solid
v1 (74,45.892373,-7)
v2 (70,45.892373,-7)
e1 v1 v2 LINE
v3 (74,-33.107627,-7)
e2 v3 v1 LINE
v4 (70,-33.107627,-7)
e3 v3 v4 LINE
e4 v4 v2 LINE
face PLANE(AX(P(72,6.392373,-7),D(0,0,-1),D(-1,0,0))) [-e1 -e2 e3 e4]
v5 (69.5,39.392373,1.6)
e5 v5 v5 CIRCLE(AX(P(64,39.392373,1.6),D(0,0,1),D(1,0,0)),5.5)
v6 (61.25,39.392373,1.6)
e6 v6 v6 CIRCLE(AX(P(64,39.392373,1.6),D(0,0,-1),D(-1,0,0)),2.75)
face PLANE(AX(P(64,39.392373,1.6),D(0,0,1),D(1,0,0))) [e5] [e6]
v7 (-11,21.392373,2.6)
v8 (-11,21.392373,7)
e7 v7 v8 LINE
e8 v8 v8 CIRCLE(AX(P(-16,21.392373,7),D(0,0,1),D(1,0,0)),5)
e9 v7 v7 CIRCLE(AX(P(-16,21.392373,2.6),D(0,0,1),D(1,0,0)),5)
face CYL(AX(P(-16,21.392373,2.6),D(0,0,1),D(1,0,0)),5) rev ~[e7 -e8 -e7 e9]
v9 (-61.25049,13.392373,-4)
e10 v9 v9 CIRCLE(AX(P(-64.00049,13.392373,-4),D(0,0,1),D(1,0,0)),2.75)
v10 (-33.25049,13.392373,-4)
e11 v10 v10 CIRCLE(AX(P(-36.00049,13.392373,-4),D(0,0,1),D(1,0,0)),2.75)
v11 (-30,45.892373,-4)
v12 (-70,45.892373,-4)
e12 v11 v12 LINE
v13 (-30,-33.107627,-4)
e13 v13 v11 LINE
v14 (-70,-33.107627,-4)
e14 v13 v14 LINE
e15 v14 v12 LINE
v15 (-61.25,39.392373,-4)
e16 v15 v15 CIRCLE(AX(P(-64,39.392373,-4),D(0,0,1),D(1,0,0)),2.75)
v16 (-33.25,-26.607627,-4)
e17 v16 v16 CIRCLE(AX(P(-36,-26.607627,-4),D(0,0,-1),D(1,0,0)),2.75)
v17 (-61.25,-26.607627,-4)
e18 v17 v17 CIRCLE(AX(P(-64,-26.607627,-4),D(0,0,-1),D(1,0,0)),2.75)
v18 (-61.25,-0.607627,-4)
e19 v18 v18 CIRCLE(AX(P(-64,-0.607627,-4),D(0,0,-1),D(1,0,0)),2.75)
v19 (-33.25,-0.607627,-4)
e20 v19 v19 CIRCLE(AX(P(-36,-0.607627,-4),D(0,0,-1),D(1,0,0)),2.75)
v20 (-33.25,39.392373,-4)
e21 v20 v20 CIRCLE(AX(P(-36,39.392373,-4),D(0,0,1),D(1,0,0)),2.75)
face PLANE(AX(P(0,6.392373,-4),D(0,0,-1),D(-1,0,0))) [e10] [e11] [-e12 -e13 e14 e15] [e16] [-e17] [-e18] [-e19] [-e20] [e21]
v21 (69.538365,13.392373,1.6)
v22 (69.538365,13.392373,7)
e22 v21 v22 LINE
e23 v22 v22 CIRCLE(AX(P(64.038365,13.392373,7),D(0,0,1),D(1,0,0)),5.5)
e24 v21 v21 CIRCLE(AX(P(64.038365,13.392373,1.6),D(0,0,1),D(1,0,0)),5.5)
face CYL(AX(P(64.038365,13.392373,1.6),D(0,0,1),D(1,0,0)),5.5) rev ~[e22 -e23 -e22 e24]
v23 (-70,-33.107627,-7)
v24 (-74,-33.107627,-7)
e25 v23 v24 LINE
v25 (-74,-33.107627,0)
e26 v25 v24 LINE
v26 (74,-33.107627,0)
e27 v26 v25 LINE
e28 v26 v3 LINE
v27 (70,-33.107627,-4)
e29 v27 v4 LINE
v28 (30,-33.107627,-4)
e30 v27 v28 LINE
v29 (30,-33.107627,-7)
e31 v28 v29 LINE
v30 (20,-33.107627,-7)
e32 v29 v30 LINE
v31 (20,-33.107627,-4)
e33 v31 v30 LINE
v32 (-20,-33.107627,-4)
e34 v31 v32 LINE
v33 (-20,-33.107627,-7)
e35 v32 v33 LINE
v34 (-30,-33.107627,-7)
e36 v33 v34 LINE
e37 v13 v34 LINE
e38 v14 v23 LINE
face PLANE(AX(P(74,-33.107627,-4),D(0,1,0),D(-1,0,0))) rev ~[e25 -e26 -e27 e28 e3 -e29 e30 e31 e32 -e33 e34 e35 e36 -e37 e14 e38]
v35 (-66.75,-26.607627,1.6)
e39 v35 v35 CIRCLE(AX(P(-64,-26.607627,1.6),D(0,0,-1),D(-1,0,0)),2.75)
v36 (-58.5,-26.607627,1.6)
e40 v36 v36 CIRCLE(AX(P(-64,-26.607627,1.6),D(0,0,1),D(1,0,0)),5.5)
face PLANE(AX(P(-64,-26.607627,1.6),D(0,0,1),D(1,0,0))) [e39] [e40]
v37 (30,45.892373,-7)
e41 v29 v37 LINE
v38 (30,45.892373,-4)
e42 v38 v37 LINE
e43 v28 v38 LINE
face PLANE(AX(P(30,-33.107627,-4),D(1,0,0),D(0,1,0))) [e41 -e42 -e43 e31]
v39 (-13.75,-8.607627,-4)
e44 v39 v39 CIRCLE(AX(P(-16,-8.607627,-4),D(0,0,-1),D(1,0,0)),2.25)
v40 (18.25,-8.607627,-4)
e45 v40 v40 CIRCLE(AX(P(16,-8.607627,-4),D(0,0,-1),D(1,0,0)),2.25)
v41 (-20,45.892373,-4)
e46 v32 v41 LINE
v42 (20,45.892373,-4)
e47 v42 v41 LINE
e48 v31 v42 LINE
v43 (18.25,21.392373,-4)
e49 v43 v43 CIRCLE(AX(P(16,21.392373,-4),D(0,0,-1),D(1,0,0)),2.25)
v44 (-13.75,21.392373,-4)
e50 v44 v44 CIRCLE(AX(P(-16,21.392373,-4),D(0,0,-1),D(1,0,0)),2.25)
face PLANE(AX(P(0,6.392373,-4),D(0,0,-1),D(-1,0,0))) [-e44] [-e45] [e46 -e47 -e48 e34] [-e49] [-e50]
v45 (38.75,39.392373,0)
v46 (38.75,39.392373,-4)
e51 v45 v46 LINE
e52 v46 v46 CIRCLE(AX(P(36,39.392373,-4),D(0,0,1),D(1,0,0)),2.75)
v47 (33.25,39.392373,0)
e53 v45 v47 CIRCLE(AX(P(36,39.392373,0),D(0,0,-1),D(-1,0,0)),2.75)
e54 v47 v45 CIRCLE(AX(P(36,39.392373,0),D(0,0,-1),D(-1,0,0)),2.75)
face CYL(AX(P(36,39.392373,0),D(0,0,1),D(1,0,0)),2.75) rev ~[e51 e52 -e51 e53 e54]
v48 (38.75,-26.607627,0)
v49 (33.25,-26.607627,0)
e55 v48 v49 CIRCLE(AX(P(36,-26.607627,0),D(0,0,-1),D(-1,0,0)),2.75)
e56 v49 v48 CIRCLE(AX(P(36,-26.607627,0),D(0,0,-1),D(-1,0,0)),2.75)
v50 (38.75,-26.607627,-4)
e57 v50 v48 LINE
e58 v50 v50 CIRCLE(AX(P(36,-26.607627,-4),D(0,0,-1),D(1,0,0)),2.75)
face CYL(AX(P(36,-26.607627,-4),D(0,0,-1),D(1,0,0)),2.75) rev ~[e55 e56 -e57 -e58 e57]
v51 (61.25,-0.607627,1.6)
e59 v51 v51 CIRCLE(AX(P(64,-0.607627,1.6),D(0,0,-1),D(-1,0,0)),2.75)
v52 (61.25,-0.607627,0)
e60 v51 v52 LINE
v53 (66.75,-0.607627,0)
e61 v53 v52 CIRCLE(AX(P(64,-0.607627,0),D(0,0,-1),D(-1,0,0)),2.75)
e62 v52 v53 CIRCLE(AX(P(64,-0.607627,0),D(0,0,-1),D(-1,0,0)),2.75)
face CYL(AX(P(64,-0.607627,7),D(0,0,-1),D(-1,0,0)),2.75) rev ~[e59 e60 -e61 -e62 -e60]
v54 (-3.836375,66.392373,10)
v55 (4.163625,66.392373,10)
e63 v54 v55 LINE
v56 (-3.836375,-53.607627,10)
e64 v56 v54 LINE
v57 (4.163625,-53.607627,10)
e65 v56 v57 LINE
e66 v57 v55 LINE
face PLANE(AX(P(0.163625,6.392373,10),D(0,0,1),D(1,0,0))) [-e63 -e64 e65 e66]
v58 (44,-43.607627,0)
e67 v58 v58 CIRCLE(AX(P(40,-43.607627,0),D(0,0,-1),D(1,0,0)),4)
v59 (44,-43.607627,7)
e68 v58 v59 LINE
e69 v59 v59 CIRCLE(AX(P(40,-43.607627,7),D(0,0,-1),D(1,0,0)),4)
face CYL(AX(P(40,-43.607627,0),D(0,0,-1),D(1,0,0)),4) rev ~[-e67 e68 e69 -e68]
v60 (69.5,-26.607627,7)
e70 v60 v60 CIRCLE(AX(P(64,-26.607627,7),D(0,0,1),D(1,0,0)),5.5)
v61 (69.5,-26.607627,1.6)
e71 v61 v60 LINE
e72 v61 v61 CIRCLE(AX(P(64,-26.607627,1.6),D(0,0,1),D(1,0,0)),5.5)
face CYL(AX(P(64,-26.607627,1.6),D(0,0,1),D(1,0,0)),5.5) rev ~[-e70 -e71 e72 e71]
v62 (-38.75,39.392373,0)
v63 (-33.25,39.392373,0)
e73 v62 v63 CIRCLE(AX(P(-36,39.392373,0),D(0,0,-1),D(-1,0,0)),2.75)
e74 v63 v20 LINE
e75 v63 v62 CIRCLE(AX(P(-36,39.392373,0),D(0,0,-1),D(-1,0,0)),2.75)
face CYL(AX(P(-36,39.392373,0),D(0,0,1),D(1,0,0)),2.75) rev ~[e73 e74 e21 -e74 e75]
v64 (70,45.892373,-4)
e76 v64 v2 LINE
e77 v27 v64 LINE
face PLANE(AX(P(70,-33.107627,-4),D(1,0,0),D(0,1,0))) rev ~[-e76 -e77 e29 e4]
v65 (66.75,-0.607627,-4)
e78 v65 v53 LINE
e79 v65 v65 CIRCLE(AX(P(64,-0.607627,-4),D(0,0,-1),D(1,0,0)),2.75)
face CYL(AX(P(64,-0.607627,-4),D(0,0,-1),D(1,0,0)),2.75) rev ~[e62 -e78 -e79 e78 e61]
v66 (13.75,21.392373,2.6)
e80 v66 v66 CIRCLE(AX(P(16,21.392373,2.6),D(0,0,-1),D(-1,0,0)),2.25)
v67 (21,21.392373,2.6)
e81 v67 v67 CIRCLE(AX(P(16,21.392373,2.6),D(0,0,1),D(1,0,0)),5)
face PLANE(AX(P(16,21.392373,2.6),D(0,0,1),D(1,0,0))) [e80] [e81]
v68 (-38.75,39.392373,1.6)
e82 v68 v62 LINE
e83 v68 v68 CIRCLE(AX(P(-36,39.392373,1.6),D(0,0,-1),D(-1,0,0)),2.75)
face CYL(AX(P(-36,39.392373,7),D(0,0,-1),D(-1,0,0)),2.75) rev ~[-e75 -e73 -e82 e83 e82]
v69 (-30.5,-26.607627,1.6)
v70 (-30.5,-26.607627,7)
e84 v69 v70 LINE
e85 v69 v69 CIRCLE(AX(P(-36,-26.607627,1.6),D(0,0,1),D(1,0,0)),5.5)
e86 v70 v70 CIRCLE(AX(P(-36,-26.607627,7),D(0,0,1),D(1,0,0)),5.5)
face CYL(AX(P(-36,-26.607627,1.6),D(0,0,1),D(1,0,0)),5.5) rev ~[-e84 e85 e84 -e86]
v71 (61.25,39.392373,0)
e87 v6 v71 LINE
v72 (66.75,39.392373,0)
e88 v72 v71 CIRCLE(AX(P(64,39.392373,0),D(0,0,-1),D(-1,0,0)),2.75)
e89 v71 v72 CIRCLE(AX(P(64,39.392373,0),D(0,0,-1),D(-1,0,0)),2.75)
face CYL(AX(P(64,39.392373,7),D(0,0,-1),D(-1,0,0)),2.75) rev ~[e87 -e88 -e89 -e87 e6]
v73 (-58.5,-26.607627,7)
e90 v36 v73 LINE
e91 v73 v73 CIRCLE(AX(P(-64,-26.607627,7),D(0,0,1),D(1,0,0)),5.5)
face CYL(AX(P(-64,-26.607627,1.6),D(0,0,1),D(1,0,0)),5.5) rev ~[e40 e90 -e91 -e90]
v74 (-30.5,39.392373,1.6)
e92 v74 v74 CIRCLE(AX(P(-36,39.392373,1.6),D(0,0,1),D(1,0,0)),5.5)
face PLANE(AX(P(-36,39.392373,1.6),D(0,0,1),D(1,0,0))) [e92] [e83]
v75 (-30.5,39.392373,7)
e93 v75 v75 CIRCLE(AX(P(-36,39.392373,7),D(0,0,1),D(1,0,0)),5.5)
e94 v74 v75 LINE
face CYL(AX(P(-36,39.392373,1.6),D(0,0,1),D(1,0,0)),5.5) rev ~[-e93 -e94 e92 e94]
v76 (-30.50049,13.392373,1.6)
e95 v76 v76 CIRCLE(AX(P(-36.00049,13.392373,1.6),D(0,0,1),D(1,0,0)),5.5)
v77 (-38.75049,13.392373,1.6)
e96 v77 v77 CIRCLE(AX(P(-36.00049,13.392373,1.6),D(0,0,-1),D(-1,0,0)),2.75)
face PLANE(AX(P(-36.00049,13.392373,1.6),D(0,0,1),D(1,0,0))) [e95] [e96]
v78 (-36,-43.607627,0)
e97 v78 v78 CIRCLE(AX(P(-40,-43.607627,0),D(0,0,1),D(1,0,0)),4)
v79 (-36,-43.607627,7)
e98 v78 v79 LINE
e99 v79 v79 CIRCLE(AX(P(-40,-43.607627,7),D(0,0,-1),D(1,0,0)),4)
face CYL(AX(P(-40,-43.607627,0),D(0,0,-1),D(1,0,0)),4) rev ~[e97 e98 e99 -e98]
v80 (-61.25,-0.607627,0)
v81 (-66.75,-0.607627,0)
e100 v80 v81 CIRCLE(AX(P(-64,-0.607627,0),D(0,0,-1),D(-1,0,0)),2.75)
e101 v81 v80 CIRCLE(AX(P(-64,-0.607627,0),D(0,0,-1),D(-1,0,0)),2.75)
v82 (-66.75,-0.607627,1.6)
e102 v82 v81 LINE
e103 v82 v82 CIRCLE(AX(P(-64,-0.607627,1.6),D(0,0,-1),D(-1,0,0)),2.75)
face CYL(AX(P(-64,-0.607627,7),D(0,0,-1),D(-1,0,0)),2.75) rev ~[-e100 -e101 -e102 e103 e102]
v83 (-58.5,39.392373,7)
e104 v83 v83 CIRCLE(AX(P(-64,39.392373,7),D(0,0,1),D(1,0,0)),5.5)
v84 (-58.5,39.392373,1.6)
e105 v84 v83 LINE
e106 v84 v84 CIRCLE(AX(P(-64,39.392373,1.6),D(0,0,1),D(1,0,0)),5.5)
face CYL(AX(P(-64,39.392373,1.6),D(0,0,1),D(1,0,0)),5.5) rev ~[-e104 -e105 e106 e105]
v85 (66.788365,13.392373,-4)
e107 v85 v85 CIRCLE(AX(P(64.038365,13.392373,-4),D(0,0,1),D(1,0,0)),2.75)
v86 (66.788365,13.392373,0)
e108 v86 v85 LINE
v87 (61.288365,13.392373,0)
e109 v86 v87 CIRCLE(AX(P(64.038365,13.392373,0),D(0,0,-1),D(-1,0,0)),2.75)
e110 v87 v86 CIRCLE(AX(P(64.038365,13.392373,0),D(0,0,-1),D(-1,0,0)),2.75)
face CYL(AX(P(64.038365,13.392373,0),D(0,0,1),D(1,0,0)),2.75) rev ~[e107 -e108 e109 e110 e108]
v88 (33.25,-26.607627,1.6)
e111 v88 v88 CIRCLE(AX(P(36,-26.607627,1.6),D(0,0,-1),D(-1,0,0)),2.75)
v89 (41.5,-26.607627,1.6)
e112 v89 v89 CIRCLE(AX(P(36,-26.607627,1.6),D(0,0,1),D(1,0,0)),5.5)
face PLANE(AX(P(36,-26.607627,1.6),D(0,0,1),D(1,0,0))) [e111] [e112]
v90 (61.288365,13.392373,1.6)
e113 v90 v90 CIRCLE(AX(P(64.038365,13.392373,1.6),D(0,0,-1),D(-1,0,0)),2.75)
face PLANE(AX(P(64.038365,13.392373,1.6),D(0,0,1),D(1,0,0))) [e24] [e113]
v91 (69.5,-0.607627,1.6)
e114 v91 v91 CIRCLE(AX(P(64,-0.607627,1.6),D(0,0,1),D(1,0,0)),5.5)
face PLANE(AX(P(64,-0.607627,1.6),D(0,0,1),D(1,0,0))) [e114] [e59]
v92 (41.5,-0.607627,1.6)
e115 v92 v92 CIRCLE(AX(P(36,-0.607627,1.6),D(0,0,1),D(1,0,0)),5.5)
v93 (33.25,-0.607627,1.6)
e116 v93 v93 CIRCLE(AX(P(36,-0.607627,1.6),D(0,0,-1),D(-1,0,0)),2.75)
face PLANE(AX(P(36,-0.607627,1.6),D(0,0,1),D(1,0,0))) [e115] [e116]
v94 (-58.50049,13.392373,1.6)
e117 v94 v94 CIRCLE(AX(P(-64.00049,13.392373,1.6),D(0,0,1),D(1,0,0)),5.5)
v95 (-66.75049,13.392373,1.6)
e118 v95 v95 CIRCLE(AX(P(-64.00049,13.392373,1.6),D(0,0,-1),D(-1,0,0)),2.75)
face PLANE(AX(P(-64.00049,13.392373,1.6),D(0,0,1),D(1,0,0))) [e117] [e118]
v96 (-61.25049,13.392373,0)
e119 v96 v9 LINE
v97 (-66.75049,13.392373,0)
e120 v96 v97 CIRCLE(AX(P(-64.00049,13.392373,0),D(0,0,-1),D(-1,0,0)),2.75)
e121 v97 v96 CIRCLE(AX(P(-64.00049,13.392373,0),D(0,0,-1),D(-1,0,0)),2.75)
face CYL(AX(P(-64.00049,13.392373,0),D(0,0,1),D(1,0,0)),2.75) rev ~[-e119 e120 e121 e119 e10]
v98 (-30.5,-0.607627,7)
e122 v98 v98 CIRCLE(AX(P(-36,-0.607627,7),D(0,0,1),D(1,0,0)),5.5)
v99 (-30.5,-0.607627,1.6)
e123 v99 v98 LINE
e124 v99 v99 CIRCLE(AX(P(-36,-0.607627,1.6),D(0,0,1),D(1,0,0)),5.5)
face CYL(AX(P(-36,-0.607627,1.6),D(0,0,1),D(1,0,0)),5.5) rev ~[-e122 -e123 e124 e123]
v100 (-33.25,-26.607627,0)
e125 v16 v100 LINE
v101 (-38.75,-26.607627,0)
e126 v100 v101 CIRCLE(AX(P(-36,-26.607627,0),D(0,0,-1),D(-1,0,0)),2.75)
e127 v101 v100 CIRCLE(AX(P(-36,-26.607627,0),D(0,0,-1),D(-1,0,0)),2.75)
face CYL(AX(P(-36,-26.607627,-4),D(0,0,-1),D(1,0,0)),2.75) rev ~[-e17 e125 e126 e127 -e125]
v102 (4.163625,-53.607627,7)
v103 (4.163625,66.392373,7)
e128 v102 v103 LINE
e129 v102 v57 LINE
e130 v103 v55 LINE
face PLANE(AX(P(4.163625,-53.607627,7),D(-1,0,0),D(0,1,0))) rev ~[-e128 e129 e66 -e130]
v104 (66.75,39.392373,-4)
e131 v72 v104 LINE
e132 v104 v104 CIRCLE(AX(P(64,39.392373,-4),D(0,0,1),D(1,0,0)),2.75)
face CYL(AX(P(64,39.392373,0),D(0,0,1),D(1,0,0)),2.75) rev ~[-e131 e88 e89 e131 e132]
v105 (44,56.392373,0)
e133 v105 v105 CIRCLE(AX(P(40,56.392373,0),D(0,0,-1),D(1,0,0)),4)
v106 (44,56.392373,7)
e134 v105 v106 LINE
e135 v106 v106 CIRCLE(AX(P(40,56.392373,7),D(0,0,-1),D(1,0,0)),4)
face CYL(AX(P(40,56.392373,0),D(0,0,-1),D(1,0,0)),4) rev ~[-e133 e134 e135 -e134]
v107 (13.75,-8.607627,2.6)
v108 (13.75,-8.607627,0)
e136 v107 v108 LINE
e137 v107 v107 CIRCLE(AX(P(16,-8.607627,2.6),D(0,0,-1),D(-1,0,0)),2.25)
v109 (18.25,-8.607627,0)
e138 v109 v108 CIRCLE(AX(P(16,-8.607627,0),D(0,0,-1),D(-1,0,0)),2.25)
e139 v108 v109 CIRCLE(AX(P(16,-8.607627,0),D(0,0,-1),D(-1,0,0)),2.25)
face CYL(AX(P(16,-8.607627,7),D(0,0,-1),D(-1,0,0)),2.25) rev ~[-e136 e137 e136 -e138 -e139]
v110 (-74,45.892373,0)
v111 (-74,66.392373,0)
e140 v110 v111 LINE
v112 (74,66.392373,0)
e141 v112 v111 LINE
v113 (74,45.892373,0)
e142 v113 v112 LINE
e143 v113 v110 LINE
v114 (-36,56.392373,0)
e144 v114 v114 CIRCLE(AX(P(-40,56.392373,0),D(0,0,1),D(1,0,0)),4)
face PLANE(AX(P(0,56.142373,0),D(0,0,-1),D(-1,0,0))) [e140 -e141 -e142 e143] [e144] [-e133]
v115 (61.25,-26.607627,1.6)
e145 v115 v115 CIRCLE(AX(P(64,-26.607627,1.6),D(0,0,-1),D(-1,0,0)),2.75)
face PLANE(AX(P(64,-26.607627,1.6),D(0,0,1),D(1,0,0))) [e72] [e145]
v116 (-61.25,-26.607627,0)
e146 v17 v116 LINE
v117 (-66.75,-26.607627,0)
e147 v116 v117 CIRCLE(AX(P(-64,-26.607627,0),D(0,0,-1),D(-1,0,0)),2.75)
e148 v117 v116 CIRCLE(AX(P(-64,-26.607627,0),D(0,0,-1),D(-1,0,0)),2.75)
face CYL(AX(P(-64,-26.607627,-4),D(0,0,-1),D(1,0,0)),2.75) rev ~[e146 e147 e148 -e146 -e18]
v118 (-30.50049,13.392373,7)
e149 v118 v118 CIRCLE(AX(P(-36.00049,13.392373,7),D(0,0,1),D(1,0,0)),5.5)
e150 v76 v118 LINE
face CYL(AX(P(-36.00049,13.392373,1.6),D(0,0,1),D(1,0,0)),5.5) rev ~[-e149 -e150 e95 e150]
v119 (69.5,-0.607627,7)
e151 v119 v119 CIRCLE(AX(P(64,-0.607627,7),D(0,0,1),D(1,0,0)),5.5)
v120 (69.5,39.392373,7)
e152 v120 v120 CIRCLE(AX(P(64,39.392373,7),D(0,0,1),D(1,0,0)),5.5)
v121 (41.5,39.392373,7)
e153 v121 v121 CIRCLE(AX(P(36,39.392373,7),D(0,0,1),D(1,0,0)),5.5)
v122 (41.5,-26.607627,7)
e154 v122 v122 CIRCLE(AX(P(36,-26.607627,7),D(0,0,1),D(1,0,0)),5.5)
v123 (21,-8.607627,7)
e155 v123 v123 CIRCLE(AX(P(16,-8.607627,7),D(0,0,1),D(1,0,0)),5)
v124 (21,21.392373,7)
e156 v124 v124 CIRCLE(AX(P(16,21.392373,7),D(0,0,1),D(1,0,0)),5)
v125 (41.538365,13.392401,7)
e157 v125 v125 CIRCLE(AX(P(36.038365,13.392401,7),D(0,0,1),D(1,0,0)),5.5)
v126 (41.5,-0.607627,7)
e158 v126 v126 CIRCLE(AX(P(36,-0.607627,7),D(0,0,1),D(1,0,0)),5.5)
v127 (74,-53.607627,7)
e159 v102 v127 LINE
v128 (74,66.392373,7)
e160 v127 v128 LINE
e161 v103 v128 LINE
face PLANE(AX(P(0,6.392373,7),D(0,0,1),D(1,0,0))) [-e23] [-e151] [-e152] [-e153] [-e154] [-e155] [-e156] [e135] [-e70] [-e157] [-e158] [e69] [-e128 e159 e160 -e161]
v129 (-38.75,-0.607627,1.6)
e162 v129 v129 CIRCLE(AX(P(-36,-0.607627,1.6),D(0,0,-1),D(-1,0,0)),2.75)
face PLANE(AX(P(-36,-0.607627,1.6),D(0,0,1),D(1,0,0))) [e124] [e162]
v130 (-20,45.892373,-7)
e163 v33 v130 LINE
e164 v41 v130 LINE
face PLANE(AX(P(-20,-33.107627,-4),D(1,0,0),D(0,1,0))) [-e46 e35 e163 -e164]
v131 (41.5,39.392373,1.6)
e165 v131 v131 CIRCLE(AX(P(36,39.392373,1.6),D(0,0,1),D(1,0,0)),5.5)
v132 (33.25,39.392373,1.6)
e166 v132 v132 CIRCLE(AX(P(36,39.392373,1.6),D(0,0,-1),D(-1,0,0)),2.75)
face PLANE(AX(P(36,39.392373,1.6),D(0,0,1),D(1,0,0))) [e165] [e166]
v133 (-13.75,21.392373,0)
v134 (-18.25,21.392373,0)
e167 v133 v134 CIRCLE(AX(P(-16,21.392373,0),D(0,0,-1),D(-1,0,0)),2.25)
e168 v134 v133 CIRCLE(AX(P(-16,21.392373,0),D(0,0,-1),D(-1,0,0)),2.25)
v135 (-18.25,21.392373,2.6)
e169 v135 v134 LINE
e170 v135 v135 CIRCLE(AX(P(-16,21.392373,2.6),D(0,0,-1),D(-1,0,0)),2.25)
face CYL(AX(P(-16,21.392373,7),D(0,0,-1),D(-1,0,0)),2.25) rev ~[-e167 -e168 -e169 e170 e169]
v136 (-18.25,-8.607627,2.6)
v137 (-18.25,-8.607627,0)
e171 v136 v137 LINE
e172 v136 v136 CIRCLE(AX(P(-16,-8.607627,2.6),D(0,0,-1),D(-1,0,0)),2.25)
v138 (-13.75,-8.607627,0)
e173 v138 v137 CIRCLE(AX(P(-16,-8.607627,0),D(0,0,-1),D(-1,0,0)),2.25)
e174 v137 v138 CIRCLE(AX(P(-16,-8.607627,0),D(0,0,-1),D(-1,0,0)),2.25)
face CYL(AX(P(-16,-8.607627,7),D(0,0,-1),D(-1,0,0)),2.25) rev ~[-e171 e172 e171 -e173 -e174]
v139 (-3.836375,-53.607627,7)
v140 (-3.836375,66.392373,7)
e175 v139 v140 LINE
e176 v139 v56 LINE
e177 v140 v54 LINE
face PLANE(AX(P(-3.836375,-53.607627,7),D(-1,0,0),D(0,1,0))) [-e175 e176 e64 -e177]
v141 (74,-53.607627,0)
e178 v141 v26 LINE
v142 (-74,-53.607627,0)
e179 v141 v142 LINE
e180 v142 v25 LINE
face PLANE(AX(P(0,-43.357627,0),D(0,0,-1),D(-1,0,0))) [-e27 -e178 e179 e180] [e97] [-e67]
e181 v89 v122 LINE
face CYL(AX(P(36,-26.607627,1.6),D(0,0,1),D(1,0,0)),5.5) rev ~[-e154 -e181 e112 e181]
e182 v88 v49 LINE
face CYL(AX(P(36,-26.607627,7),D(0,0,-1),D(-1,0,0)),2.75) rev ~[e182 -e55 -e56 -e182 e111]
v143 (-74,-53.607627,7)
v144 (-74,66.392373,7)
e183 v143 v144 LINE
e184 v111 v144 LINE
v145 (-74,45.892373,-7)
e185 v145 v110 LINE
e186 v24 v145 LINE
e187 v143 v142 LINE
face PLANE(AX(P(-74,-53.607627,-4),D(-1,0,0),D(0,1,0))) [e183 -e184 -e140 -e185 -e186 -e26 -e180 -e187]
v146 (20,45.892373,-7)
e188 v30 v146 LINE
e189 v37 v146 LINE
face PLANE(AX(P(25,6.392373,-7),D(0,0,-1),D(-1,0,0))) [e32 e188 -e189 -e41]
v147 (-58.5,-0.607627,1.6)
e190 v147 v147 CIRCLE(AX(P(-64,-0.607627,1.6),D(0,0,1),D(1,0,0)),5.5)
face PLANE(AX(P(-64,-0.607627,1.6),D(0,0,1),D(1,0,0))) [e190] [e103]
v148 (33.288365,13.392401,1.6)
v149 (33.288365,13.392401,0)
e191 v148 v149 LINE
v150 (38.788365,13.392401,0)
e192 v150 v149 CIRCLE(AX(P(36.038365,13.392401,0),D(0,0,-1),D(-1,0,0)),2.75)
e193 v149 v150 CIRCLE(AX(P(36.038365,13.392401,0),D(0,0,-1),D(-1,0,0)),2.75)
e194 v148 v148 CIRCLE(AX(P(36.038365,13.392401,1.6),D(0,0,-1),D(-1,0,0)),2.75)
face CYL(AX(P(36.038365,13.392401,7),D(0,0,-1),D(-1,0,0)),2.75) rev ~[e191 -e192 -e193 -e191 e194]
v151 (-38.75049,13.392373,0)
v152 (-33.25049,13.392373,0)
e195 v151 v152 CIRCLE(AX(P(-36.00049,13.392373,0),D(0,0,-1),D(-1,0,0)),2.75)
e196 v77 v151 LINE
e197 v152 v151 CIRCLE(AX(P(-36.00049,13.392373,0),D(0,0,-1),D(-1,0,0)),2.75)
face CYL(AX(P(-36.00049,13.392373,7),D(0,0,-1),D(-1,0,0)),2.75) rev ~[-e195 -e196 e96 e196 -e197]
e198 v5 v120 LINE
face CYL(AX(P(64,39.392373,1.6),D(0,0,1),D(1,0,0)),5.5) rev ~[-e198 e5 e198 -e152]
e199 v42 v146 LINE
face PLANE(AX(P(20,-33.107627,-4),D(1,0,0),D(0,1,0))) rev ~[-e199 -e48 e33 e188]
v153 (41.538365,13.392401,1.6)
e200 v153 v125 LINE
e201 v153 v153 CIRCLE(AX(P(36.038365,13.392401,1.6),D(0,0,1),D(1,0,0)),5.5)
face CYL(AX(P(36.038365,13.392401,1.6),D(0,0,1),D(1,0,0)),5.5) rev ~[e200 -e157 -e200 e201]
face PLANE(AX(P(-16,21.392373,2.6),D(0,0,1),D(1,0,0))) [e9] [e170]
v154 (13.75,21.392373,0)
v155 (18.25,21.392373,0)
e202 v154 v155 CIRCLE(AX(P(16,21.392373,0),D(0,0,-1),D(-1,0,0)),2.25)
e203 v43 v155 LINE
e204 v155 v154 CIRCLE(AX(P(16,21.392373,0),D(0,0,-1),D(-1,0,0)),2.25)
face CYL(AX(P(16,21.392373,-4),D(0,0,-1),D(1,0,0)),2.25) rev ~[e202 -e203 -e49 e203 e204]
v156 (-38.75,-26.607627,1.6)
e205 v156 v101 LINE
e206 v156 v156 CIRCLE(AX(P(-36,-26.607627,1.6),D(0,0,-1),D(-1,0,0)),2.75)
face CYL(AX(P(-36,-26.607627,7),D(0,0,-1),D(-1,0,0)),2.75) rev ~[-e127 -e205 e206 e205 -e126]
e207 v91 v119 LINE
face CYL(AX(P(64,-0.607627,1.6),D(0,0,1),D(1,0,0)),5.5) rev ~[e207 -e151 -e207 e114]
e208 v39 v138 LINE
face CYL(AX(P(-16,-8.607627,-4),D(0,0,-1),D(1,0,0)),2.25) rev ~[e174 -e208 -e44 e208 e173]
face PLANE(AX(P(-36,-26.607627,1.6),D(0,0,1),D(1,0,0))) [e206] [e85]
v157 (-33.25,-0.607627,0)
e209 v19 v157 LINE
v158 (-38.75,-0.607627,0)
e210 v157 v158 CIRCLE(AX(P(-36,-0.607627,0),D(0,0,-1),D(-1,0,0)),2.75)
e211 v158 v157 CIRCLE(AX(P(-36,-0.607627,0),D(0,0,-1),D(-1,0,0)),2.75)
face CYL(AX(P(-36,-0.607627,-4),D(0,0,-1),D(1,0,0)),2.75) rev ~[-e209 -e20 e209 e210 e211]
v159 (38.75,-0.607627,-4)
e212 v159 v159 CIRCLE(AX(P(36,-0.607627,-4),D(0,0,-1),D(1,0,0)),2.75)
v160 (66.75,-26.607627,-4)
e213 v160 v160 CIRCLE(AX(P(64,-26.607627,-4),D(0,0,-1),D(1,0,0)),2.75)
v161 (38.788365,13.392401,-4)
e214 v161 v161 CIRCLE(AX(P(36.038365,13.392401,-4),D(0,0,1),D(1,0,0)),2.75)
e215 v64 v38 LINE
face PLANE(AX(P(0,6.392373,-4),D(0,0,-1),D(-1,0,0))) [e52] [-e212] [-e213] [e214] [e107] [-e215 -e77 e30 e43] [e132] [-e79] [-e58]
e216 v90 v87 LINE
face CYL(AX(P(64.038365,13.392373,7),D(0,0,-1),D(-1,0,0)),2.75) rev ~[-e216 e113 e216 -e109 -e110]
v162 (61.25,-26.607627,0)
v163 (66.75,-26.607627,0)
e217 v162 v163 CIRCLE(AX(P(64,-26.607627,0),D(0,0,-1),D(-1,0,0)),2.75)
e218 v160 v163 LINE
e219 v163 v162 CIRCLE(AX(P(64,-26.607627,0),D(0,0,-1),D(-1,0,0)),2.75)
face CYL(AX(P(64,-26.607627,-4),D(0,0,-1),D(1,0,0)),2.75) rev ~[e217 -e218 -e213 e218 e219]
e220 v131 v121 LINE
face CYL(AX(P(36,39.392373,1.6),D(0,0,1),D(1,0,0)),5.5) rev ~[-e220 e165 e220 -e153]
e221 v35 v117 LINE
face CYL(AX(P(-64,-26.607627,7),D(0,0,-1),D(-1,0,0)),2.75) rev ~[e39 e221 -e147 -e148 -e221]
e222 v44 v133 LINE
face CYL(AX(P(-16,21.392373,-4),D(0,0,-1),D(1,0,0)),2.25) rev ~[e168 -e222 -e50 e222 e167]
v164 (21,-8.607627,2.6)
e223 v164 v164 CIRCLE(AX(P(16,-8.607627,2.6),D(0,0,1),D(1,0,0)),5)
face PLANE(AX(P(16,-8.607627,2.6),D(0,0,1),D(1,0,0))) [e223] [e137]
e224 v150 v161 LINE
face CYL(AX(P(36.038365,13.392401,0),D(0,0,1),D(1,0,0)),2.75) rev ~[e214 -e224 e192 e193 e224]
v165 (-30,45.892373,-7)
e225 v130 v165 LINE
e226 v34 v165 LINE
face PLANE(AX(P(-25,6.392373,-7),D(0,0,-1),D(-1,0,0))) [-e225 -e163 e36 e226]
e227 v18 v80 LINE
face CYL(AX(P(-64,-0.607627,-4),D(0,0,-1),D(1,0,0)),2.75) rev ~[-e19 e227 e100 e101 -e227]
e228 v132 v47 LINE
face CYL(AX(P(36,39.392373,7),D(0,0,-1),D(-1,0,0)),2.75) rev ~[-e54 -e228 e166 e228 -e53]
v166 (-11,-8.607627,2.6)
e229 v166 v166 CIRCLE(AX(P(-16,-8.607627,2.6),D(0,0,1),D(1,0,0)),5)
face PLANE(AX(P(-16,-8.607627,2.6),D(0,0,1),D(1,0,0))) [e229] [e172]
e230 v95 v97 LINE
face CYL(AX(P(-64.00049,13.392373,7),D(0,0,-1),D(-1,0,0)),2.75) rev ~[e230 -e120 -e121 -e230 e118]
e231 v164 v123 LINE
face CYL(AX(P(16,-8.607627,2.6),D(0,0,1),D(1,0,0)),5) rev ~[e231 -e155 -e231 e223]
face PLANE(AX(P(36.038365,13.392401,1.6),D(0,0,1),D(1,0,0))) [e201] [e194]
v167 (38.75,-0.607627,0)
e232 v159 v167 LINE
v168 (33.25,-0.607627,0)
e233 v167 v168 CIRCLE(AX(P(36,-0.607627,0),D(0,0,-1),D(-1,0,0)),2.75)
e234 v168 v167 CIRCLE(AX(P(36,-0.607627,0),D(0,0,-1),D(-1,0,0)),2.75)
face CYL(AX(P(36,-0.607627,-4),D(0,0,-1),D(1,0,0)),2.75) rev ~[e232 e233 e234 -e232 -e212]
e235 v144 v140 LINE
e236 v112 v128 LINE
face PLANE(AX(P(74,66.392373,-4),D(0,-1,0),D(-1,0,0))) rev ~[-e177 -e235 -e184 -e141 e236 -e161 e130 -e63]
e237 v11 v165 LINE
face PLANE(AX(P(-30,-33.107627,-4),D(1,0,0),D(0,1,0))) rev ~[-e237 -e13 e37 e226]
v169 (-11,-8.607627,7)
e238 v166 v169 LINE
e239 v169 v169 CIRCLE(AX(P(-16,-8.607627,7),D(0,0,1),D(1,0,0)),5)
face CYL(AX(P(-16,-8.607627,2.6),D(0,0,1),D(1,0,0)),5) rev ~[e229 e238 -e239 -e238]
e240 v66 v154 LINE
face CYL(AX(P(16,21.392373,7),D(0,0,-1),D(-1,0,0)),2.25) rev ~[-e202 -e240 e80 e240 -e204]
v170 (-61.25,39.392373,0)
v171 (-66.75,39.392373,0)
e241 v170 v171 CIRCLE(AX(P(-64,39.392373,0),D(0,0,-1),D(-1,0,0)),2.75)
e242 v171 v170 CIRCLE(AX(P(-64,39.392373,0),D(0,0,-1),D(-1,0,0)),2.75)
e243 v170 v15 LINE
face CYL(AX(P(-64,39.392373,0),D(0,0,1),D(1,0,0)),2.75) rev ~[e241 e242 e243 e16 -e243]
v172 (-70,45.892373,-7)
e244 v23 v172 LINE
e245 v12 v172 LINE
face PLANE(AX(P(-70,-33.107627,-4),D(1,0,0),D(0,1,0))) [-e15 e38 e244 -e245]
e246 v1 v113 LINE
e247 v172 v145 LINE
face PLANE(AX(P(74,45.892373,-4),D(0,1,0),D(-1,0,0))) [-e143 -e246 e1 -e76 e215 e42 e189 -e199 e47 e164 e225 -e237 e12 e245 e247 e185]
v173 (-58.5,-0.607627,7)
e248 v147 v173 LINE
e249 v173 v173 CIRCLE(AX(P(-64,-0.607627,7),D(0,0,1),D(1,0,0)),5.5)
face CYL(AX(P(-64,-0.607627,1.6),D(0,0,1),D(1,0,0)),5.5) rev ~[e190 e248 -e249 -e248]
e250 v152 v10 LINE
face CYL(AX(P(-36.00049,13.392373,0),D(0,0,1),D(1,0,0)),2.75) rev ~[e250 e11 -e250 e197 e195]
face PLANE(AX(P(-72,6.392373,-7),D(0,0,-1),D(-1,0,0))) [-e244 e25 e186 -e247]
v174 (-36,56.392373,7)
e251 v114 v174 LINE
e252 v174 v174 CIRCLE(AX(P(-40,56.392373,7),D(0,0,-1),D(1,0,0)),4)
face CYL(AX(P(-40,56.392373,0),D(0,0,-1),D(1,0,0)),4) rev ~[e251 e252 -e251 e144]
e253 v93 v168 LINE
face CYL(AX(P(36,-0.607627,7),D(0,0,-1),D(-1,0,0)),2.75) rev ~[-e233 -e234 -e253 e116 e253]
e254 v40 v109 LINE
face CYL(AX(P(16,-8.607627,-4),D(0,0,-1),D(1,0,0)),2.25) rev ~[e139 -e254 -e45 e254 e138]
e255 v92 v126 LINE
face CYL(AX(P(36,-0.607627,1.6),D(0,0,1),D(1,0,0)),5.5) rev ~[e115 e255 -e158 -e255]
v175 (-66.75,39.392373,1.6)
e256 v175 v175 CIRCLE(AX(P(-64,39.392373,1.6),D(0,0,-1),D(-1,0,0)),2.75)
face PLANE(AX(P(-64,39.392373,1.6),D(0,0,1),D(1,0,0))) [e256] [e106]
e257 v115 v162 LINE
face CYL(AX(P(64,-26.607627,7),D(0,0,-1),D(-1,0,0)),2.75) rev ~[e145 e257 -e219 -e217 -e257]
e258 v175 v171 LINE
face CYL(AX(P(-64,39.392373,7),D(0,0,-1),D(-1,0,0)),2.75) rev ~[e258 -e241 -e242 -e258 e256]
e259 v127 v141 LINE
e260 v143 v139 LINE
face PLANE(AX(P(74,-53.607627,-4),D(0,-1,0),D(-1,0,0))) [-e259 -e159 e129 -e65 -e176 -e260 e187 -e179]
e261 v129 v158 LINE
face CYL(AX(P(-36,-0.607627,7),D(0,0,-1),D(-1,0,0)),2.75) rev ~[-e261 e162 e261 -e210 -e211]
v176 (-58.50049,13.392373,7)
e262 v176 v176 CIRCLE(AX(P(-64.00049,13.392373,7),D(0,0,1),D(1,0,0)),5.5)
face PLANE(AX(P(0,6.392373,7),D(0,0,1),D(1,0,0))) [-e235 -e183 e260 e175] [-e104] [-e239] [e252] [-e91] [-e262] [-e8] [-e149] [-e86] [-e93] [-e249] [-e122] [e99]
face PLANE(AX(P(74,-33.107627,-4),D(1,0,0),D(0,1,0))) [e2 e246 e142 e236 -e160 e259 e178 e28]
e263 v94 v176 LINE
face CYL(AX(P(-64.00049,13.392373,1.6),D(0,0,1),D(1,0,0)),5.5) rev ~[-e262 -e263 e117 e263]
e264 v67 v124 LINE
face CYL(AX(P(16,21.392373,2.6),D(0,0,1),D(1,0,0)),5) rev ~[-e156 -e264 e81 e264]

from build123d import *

# Parameters (mm, degrees)
ESQUISSE1_W                                        = 148
ESQUISSE1_H                                        = 120
ESQUISSE1_R                                        = 2.5
ESQUISSE1_R_2                                      = 2
EXTRUSION1_DEPTH                                   = 4
ESQUISSE2_R                                        = 4
ENL_V_MAT_EXTRU_1_DEPTH                            = 100.49847838
ESQUISSE3_W                                        = 148
ESQUISSE3_H                                        = 120
BOSS_EXTRU_1_DEPTH                                 = 3
CHAMBRAGE_POUR_VIS_T_TE_HEXAGONALE_M41_D           = 4.5
CHAMBRAGE_POUR_VIS_T_TE_HEXAGONALE_M41_CBORE_D     = 10
CHAMBRAGE_POUR_VIS_T_TE_HEXAGONALE_M41_CBORE_DEPTH = 4.4
CHAMBRAGE_POUR_VIS_T_TE_HEXAGONALE_M51_D           = 5.5
CHAMBRAGE_POUR_VIS_T_TE_HEXAGONALE_M51_CBORE_D     = 11
CHAMBRAGE_POUR_VIS_T_TE_HEXAGONALE_M51_CBORE_DEPTH = 5.4
ESQUISSE8_R                                        = 4
ENL_V_MAT_EXTRU_2_DEPTH                            = 100.664172098
BOSS_EXTRU_2_START                                 = 4
ESQUISSE9_W                                        = 148
ESQUISSE9_H                                        = 120
ESQUISSE9_R                                        = 2.75
ESQUISSE9_R_2                                      = 2.25
BOSS_EXTRU_2_DEPTH                                 = 4
ESQUISSE11_W                                       = 8
ESQUISSE11_H                                       = 120
BOSS_EXTRU_4_DEPTH                                 = 3
ESQUISSE12_R                                       = 4
ENL_V_MAT_EXTRU_3_DEPTH                            = 100.919703762
ESQUISSE13_R                                       = 2.75
ENL_V_MAT_EXTRU_4_DEPTH                            = 100.919703762
ESQUISSE14_W                                       = 148
ESQUISSE14_H                                       = 20.5
ENL_V_MAT_EXTRU_5_DEPTH                            = 4
ESQUISSE15_W                                       = 4
ESQUISSE15_H                                       = 79
ESQUISSE15_W_2                                     = 10
BOSS_EXTRU_5_DEPTH                                 = 3


with BuildPart() as part:
    # Esquisse1 → Extrusion1 (new body)
    with BuildSketch(Plane.XY):
        with Locations((0, 6.392373056)):
            Rectangle(ESQUISSE1_W, ESQUISSE1_H)
        with Locations((-64, -0.607626944)):
            Circle(ESQUISSE1_R, mode=Mode.SUBTRACT)
        with Locations((-36, 39.392373056)):
            Circle(ESQUISSE1_R, mode=Mode.SUBTRACT)
        with Locations((-64, -26.607626944)):
            Circle(ESQUISSE1_R, mode=Mode.SUBTRACT)
        with Locations((-36, -26.607626944)):
            Circle(ESQUISSE1_R, mode=Mode.SUBTRACT)
        with Locations((36, -0.607626944)):
            Circle(ESQUISSE1_R, mode=Mode.SUBTRACT)
        with Locations((64, -0.607626944)):
            Circle(ESQUISSE1_R, mode=Mode.SUBTRACT)
        with Locations((36, -26.607626944)):
            Circle(ESQUISSE1_R, mode=Mode.SUBTRACT)
        with Locations((64, -26.607626944)):
            Circle(ESQUISSE1_R, mode=Mode.SUBTRACT)
        with Locations((-36, -0.607626944)):
            Circle(ESQUISSE1_R, mode=Mode.SUBTRACT)
        with Locations((-64, 39.392373056)):
            Circle(ESQUISSE1_R, mode=Mode.SUBTRACT)
        with Locations((16, 21.392373056)):
            Circle(ESQUISSE1_R_2, mode=Mode.SUBTRACT)
        with Locations((16, -8.607626944)):
            Circle(ESQUISSE1_R_2, mode=Mode.SUBTRACT)
        with Locations((-16, 21.392373056)):
            Circle(ESQUISSE1_R_2, mode=Mode.SUBTRACT)
        with Locations((-16, -8.607626944)):
            Circle(ESQUISSE1_R_2, mode=Mode.SUBTRACT)
        with Locations((-64, 13.392373056)):
            Circle(ESQUISSE1_R, mode=Mode.SUBTRACT)
        with Locations((-36, 13.392373056)):
            Circle(ESQUISSE1_R, mode=Mode.SUBTRACT)
        with Locations((36, 39.392373056)):
            Circle(ESQUISSE1_R, mode=Mode.SUBTRACT)
        with Locations((36, 13.392373056)):
            Circle(ESQUISSE1_R, mode=Mode.SUBTRACT)
        with Locations((64, 39.392373056)):
            Circle(ESQUISSE1_R, mode=Mode.SUBTRACT)
        with Locations((64, 13.392373056)):
            Circle(ESQUISSE1_R, mode=Mode.SUBTRACT)
    extrude(amount=EXTRUSION1_DEPTH)

    # Esquisse2 → Enlèv. mat.-Extru.1 (cut, through all)
    with BuildSketch(Plane.XY.offset(4)):
        with Locations((-40, 56.392373056)):
            Circle(ESQUISSE2_R)
        with Locations((-40, -43.607626944)):
            Circle(ESQUISSE2_R)
        with Locations((40, 56.392373056)):
            Circle(ESQUISSE2_R)
        with Locations((40, -43.607626944)):
            Circle(ESQUISSE2_R)
    extrude(amount=-ENL_V_MAT_EXTRU_1_DEPTH, mode=Mode.SUBTRACT)

    # Esquisse3 → Boss.-Extru.1 (add)
    with BuildSketch(Plane.XY.offset(4)):
        with Locations((0, 6.392373056)):
            Rectangle(ESQUISSE3_W, ESQUISSE3_H)
    extrude(amount=BOSS_EXTRU_1_DEPTH)

    # Chambrage pour vis à tête hexagonale M41 (through all)
    with Locations(Plane.XY.offset(7)):
        with Locations((-16, 21.392373056), (16, 21.392373056), (16, -8.607626944), (-16, -8.607626944)):
            CounterBoreHole(CHAMBRAGE_POUR_VIS_T_TE_HEXAGONALE_M41_D / 2, CHAMBRAGE_POUR_VIS_T_TE_HEXAGONALE_M41_CBORE_D / 2, CHAMBRAGE_POUR_VIS_T_TE_HEXAGONALE_M41_CBORE_DEPTH)

    # Chambrage pour vis à tête hexagonale M51 (through all)
    with Locations(Plane.XY.offset(7)):
        with Locations((-64, -0.607626944), (-36, -0.607626944), (-36, -26.607626944), (-64, -26.607626944), (36, -0.607626944), (64, -0.607626944), (64, -26.607626944), (36, -26.607626944), (-64, 39.392373056), (-36, 39.392373056), (-64.000489538, 13.39237306), (-36.000489538, 13.39237306), (36, 39.392373056), (64, 39.392373056), (36.038364675, 13.39240136), (64.038364675, 13.392373056)):
            CounterBoreHole(CHAMBRAGE_POUR_VIS_T_TE_HEXAGONALE_M51_D / 2, CHAMBRAGE_POUR_VIS_T_TE_HEXAGONALE_M51_CBORE_D / 2, CHAMBRAGE_POUR_VIS_T_TE_HEXAGONALE_M51_CBORE_DEPTH)

    # Esquisse8 → Enlèv. mat.-Extru.2 (cut, through all)
    with BuildSketch(Plane(origin=(0, 0, 0), x_dir=(-1, 0, 0), z_dir=(0, 0, -1))):
        with Locations(Location((40, -43.607626944, 0), (0, 0, 180))):
            Circle(ESQUISSE8_R)
        with Locations(Location((40, 56.392373056, 0), (0, 0, 180))):
            Circle(ESQUISSE8_R)
        with Locations(Location((-40, 56.392373056, 0), (0, 0, 180))):
            Circle(ESQUISSE8_R)
        with Locations(Location((-40, -43.607626944, 0), (0, 0, 180))):
            Circle(ESQUISSE8_R)
    extrude(amount=-ENL_V_MAT_EXTRU_2_DEPTH, mode=Mode.SUBTRACT)

    # Esquisse9 → Boss.-Extru.2 (add)
    with BuildSketch(Plane(origin=(0, 0, 0), x_dir=(-1, 0, 0), z_dir=(0, 0, -1)).offset(BOSS_EXTRU_2_START)):
        with Locations((0, 6.392373056)):
            Rectangle(ESQUISSE9_W, ESQUISSE9_H)
        with Locations(Location((-64, -0.607626944, 0), (0, 0, 180))):
            Circle(ESQUISSE9_R, mode=Mode.SUBTRACT)
        with Locations(Location((-64, -26.607626944, 0), (0, 0, 180))):
            Circle(ESQUISSE9_R, mode=Mode.SUBTRACT)
        with Locations(Location((-36, -0.607626944, 0), (0, 0, 180))):
            Circle(ESQUISSE9_R, mode=Mode.SUBTRACT)
        with Locations(Location((-36, -26.607626944, 0), (0, 0, 180))):
            Circle(ESQUISSE9_R, mode=Mode.SUBTRACT)
        with Locations(Location((-16, 21.392373056, 0), (0, 0, 180))):
            Circle(ESQUISSE9_R_2, mode=Mode.SUBTRACT)
        with Locations(Location((16, 21.392373056, 0), (0, 0, 180))):
            Circle(ESQUISSE9_R_2, mode=Mode.SUBTRACT)
        with Locations(Location((-16, -8.607626944, 0), (0, 0, 180))):
            Circle(ESQUISSE9_R_2, mode=Mode.SUBTRACT)
        with Locations(Location((16, -8.607626944, 0), (0, 0, 180))):
            Circle(ESQUISSE9_R_2, mode=Mode.SUBTRACT)
        with Locations(Location((36, -0.607626944, 0), (0, 0, 180))):
            Circle(ESQUISSE9_R, mode=Mode.SUBTRACT)
        with Locations(Location((64, -0.607626944, 0), (0, 0, 180))):
            Circle(ESQUISSE9_R, mode=Mode.SUBTRACT)
        with Locations(Location((36, -26.607626944, 0), (0, 0, 180))):
            Circle(ESQUISSE9_R, mode=Mode.SUBTRACT)
        with Locations(Location((64, -26.607626944, 0), (0, 0, 180))):
            Circle(ESQUISSE9_R, mode=Mode.SUBTRACT)
    extrude(amount=-BOSS_EXTRU_2_DEPTH)

    # Esquisse11 → Boss.-Extru.4 (add)
    with BuildSketch(Plane.XY.offset(7)):
        with Locations((0.163625215, 6.392373056)):
            Rectangle(ESQUISSE11_W, ESQUISSE11_H)
    extrude(amount=BOSS_EXTRU_4_DEPTH)

    # Esquisse12 → Enlèv. mat.-Extru.3 (cut, through all)
    with BuildSketch(Plane.XY):
        with Locations((-40, 56.392373056)):
            Circle(ESQUISSE12_R)
        with Locations((40, 56.392373056)):
            Circle(ESQUISSE12_R)
        with Locations((40, -43.607626944)):
            Circle(ESQUISSE12_R)
        with Locations((-40, -43.607626944)):
            Circle(ESQUISSE12_R)
    extrude(amount=-ENL_V_MAT_EXTRU_3_DEPTH, mode=Mode.SUBTRACT)

    # Esquisse13 → Enlèv. mat.-Extru.4 (cut, through all)
    with BuildSketch(Plane.XY):
        with Locations((-64, 39.392373056)):
            Circle(ESQUISSE13_R)
        with Locations((-36, 39.392373056)):
            Circle(ESQUISSE13_R)
        with Locations((-36.000489538, 13.39237306)):
            Circle(ESQUISSE13_R)
        with Locations((-64.000489538, 13.39237306)):
            Circle(ESQUISSE13_R)
        with Locations((36, 39.392373056)):
            Circle(ESQUISSE13_R)
        with Locations((64, 39.392373056)):
            Circle(ESQUISSE13_R)
        with Locations((36.038364675, 13.39240136)):
            Circle(ESQUISSE13_R)
        with Locations((64.038364675, 13.392373056)):
            Circle(ESQUISSE13_R)
    extrude(amount=-ENL_V_MAT_EXTRU_4_DEPTH, mode=Mode.SUBTRACT)

    # Esquisse14 → Enlèv. mat.-Extru.5 (cut)
    with BuildSketch(Plane(origin=(0, 0, -4), x_dir=(-1, 0, 0), z_dir=(0, 0, -1))):
        with Locations((0, -43.357626944)):
            Rectangle(ESQUISSE14_W, ESQUISSE14_H)
        with Locations((0, 56.142373056)):
            Rectangle(ESQUISSE14_W, ESQUISSE14_H)
    extrude(amount=-ENL_V_MAT_EXTRU_5_DEPTH, mode=Mode.SUBTRACT)

    # Esquisse15 → Boss.-Extru.5 (add)
    with BuildSketch(Plane(origin=(0, 0, -4), x_dir=(-1, 0, 0), z_dir=(0, 0, -1))):
        with Locations((-72, 6.392373056)):
            Rectangle(ESQUISSE15_W, ESQUISSE15_H)
        with Locations((-25, 6.392373056)):
            Rectangle(ESQUISSE15_W_2, ESQUISSE15_H)
        with Locations((25, 6.392373056)):
            Rectangle(ESQUISSE15_W_2, ESQUISSE15_H)
        with Locations((72, 6.392373056)):
            Rectangle(ESQUISSE15_W, ESQUISSE15_H)
    extrude(amount=BOSS_EXTRU_5_DEPTH)


solid = part.part
